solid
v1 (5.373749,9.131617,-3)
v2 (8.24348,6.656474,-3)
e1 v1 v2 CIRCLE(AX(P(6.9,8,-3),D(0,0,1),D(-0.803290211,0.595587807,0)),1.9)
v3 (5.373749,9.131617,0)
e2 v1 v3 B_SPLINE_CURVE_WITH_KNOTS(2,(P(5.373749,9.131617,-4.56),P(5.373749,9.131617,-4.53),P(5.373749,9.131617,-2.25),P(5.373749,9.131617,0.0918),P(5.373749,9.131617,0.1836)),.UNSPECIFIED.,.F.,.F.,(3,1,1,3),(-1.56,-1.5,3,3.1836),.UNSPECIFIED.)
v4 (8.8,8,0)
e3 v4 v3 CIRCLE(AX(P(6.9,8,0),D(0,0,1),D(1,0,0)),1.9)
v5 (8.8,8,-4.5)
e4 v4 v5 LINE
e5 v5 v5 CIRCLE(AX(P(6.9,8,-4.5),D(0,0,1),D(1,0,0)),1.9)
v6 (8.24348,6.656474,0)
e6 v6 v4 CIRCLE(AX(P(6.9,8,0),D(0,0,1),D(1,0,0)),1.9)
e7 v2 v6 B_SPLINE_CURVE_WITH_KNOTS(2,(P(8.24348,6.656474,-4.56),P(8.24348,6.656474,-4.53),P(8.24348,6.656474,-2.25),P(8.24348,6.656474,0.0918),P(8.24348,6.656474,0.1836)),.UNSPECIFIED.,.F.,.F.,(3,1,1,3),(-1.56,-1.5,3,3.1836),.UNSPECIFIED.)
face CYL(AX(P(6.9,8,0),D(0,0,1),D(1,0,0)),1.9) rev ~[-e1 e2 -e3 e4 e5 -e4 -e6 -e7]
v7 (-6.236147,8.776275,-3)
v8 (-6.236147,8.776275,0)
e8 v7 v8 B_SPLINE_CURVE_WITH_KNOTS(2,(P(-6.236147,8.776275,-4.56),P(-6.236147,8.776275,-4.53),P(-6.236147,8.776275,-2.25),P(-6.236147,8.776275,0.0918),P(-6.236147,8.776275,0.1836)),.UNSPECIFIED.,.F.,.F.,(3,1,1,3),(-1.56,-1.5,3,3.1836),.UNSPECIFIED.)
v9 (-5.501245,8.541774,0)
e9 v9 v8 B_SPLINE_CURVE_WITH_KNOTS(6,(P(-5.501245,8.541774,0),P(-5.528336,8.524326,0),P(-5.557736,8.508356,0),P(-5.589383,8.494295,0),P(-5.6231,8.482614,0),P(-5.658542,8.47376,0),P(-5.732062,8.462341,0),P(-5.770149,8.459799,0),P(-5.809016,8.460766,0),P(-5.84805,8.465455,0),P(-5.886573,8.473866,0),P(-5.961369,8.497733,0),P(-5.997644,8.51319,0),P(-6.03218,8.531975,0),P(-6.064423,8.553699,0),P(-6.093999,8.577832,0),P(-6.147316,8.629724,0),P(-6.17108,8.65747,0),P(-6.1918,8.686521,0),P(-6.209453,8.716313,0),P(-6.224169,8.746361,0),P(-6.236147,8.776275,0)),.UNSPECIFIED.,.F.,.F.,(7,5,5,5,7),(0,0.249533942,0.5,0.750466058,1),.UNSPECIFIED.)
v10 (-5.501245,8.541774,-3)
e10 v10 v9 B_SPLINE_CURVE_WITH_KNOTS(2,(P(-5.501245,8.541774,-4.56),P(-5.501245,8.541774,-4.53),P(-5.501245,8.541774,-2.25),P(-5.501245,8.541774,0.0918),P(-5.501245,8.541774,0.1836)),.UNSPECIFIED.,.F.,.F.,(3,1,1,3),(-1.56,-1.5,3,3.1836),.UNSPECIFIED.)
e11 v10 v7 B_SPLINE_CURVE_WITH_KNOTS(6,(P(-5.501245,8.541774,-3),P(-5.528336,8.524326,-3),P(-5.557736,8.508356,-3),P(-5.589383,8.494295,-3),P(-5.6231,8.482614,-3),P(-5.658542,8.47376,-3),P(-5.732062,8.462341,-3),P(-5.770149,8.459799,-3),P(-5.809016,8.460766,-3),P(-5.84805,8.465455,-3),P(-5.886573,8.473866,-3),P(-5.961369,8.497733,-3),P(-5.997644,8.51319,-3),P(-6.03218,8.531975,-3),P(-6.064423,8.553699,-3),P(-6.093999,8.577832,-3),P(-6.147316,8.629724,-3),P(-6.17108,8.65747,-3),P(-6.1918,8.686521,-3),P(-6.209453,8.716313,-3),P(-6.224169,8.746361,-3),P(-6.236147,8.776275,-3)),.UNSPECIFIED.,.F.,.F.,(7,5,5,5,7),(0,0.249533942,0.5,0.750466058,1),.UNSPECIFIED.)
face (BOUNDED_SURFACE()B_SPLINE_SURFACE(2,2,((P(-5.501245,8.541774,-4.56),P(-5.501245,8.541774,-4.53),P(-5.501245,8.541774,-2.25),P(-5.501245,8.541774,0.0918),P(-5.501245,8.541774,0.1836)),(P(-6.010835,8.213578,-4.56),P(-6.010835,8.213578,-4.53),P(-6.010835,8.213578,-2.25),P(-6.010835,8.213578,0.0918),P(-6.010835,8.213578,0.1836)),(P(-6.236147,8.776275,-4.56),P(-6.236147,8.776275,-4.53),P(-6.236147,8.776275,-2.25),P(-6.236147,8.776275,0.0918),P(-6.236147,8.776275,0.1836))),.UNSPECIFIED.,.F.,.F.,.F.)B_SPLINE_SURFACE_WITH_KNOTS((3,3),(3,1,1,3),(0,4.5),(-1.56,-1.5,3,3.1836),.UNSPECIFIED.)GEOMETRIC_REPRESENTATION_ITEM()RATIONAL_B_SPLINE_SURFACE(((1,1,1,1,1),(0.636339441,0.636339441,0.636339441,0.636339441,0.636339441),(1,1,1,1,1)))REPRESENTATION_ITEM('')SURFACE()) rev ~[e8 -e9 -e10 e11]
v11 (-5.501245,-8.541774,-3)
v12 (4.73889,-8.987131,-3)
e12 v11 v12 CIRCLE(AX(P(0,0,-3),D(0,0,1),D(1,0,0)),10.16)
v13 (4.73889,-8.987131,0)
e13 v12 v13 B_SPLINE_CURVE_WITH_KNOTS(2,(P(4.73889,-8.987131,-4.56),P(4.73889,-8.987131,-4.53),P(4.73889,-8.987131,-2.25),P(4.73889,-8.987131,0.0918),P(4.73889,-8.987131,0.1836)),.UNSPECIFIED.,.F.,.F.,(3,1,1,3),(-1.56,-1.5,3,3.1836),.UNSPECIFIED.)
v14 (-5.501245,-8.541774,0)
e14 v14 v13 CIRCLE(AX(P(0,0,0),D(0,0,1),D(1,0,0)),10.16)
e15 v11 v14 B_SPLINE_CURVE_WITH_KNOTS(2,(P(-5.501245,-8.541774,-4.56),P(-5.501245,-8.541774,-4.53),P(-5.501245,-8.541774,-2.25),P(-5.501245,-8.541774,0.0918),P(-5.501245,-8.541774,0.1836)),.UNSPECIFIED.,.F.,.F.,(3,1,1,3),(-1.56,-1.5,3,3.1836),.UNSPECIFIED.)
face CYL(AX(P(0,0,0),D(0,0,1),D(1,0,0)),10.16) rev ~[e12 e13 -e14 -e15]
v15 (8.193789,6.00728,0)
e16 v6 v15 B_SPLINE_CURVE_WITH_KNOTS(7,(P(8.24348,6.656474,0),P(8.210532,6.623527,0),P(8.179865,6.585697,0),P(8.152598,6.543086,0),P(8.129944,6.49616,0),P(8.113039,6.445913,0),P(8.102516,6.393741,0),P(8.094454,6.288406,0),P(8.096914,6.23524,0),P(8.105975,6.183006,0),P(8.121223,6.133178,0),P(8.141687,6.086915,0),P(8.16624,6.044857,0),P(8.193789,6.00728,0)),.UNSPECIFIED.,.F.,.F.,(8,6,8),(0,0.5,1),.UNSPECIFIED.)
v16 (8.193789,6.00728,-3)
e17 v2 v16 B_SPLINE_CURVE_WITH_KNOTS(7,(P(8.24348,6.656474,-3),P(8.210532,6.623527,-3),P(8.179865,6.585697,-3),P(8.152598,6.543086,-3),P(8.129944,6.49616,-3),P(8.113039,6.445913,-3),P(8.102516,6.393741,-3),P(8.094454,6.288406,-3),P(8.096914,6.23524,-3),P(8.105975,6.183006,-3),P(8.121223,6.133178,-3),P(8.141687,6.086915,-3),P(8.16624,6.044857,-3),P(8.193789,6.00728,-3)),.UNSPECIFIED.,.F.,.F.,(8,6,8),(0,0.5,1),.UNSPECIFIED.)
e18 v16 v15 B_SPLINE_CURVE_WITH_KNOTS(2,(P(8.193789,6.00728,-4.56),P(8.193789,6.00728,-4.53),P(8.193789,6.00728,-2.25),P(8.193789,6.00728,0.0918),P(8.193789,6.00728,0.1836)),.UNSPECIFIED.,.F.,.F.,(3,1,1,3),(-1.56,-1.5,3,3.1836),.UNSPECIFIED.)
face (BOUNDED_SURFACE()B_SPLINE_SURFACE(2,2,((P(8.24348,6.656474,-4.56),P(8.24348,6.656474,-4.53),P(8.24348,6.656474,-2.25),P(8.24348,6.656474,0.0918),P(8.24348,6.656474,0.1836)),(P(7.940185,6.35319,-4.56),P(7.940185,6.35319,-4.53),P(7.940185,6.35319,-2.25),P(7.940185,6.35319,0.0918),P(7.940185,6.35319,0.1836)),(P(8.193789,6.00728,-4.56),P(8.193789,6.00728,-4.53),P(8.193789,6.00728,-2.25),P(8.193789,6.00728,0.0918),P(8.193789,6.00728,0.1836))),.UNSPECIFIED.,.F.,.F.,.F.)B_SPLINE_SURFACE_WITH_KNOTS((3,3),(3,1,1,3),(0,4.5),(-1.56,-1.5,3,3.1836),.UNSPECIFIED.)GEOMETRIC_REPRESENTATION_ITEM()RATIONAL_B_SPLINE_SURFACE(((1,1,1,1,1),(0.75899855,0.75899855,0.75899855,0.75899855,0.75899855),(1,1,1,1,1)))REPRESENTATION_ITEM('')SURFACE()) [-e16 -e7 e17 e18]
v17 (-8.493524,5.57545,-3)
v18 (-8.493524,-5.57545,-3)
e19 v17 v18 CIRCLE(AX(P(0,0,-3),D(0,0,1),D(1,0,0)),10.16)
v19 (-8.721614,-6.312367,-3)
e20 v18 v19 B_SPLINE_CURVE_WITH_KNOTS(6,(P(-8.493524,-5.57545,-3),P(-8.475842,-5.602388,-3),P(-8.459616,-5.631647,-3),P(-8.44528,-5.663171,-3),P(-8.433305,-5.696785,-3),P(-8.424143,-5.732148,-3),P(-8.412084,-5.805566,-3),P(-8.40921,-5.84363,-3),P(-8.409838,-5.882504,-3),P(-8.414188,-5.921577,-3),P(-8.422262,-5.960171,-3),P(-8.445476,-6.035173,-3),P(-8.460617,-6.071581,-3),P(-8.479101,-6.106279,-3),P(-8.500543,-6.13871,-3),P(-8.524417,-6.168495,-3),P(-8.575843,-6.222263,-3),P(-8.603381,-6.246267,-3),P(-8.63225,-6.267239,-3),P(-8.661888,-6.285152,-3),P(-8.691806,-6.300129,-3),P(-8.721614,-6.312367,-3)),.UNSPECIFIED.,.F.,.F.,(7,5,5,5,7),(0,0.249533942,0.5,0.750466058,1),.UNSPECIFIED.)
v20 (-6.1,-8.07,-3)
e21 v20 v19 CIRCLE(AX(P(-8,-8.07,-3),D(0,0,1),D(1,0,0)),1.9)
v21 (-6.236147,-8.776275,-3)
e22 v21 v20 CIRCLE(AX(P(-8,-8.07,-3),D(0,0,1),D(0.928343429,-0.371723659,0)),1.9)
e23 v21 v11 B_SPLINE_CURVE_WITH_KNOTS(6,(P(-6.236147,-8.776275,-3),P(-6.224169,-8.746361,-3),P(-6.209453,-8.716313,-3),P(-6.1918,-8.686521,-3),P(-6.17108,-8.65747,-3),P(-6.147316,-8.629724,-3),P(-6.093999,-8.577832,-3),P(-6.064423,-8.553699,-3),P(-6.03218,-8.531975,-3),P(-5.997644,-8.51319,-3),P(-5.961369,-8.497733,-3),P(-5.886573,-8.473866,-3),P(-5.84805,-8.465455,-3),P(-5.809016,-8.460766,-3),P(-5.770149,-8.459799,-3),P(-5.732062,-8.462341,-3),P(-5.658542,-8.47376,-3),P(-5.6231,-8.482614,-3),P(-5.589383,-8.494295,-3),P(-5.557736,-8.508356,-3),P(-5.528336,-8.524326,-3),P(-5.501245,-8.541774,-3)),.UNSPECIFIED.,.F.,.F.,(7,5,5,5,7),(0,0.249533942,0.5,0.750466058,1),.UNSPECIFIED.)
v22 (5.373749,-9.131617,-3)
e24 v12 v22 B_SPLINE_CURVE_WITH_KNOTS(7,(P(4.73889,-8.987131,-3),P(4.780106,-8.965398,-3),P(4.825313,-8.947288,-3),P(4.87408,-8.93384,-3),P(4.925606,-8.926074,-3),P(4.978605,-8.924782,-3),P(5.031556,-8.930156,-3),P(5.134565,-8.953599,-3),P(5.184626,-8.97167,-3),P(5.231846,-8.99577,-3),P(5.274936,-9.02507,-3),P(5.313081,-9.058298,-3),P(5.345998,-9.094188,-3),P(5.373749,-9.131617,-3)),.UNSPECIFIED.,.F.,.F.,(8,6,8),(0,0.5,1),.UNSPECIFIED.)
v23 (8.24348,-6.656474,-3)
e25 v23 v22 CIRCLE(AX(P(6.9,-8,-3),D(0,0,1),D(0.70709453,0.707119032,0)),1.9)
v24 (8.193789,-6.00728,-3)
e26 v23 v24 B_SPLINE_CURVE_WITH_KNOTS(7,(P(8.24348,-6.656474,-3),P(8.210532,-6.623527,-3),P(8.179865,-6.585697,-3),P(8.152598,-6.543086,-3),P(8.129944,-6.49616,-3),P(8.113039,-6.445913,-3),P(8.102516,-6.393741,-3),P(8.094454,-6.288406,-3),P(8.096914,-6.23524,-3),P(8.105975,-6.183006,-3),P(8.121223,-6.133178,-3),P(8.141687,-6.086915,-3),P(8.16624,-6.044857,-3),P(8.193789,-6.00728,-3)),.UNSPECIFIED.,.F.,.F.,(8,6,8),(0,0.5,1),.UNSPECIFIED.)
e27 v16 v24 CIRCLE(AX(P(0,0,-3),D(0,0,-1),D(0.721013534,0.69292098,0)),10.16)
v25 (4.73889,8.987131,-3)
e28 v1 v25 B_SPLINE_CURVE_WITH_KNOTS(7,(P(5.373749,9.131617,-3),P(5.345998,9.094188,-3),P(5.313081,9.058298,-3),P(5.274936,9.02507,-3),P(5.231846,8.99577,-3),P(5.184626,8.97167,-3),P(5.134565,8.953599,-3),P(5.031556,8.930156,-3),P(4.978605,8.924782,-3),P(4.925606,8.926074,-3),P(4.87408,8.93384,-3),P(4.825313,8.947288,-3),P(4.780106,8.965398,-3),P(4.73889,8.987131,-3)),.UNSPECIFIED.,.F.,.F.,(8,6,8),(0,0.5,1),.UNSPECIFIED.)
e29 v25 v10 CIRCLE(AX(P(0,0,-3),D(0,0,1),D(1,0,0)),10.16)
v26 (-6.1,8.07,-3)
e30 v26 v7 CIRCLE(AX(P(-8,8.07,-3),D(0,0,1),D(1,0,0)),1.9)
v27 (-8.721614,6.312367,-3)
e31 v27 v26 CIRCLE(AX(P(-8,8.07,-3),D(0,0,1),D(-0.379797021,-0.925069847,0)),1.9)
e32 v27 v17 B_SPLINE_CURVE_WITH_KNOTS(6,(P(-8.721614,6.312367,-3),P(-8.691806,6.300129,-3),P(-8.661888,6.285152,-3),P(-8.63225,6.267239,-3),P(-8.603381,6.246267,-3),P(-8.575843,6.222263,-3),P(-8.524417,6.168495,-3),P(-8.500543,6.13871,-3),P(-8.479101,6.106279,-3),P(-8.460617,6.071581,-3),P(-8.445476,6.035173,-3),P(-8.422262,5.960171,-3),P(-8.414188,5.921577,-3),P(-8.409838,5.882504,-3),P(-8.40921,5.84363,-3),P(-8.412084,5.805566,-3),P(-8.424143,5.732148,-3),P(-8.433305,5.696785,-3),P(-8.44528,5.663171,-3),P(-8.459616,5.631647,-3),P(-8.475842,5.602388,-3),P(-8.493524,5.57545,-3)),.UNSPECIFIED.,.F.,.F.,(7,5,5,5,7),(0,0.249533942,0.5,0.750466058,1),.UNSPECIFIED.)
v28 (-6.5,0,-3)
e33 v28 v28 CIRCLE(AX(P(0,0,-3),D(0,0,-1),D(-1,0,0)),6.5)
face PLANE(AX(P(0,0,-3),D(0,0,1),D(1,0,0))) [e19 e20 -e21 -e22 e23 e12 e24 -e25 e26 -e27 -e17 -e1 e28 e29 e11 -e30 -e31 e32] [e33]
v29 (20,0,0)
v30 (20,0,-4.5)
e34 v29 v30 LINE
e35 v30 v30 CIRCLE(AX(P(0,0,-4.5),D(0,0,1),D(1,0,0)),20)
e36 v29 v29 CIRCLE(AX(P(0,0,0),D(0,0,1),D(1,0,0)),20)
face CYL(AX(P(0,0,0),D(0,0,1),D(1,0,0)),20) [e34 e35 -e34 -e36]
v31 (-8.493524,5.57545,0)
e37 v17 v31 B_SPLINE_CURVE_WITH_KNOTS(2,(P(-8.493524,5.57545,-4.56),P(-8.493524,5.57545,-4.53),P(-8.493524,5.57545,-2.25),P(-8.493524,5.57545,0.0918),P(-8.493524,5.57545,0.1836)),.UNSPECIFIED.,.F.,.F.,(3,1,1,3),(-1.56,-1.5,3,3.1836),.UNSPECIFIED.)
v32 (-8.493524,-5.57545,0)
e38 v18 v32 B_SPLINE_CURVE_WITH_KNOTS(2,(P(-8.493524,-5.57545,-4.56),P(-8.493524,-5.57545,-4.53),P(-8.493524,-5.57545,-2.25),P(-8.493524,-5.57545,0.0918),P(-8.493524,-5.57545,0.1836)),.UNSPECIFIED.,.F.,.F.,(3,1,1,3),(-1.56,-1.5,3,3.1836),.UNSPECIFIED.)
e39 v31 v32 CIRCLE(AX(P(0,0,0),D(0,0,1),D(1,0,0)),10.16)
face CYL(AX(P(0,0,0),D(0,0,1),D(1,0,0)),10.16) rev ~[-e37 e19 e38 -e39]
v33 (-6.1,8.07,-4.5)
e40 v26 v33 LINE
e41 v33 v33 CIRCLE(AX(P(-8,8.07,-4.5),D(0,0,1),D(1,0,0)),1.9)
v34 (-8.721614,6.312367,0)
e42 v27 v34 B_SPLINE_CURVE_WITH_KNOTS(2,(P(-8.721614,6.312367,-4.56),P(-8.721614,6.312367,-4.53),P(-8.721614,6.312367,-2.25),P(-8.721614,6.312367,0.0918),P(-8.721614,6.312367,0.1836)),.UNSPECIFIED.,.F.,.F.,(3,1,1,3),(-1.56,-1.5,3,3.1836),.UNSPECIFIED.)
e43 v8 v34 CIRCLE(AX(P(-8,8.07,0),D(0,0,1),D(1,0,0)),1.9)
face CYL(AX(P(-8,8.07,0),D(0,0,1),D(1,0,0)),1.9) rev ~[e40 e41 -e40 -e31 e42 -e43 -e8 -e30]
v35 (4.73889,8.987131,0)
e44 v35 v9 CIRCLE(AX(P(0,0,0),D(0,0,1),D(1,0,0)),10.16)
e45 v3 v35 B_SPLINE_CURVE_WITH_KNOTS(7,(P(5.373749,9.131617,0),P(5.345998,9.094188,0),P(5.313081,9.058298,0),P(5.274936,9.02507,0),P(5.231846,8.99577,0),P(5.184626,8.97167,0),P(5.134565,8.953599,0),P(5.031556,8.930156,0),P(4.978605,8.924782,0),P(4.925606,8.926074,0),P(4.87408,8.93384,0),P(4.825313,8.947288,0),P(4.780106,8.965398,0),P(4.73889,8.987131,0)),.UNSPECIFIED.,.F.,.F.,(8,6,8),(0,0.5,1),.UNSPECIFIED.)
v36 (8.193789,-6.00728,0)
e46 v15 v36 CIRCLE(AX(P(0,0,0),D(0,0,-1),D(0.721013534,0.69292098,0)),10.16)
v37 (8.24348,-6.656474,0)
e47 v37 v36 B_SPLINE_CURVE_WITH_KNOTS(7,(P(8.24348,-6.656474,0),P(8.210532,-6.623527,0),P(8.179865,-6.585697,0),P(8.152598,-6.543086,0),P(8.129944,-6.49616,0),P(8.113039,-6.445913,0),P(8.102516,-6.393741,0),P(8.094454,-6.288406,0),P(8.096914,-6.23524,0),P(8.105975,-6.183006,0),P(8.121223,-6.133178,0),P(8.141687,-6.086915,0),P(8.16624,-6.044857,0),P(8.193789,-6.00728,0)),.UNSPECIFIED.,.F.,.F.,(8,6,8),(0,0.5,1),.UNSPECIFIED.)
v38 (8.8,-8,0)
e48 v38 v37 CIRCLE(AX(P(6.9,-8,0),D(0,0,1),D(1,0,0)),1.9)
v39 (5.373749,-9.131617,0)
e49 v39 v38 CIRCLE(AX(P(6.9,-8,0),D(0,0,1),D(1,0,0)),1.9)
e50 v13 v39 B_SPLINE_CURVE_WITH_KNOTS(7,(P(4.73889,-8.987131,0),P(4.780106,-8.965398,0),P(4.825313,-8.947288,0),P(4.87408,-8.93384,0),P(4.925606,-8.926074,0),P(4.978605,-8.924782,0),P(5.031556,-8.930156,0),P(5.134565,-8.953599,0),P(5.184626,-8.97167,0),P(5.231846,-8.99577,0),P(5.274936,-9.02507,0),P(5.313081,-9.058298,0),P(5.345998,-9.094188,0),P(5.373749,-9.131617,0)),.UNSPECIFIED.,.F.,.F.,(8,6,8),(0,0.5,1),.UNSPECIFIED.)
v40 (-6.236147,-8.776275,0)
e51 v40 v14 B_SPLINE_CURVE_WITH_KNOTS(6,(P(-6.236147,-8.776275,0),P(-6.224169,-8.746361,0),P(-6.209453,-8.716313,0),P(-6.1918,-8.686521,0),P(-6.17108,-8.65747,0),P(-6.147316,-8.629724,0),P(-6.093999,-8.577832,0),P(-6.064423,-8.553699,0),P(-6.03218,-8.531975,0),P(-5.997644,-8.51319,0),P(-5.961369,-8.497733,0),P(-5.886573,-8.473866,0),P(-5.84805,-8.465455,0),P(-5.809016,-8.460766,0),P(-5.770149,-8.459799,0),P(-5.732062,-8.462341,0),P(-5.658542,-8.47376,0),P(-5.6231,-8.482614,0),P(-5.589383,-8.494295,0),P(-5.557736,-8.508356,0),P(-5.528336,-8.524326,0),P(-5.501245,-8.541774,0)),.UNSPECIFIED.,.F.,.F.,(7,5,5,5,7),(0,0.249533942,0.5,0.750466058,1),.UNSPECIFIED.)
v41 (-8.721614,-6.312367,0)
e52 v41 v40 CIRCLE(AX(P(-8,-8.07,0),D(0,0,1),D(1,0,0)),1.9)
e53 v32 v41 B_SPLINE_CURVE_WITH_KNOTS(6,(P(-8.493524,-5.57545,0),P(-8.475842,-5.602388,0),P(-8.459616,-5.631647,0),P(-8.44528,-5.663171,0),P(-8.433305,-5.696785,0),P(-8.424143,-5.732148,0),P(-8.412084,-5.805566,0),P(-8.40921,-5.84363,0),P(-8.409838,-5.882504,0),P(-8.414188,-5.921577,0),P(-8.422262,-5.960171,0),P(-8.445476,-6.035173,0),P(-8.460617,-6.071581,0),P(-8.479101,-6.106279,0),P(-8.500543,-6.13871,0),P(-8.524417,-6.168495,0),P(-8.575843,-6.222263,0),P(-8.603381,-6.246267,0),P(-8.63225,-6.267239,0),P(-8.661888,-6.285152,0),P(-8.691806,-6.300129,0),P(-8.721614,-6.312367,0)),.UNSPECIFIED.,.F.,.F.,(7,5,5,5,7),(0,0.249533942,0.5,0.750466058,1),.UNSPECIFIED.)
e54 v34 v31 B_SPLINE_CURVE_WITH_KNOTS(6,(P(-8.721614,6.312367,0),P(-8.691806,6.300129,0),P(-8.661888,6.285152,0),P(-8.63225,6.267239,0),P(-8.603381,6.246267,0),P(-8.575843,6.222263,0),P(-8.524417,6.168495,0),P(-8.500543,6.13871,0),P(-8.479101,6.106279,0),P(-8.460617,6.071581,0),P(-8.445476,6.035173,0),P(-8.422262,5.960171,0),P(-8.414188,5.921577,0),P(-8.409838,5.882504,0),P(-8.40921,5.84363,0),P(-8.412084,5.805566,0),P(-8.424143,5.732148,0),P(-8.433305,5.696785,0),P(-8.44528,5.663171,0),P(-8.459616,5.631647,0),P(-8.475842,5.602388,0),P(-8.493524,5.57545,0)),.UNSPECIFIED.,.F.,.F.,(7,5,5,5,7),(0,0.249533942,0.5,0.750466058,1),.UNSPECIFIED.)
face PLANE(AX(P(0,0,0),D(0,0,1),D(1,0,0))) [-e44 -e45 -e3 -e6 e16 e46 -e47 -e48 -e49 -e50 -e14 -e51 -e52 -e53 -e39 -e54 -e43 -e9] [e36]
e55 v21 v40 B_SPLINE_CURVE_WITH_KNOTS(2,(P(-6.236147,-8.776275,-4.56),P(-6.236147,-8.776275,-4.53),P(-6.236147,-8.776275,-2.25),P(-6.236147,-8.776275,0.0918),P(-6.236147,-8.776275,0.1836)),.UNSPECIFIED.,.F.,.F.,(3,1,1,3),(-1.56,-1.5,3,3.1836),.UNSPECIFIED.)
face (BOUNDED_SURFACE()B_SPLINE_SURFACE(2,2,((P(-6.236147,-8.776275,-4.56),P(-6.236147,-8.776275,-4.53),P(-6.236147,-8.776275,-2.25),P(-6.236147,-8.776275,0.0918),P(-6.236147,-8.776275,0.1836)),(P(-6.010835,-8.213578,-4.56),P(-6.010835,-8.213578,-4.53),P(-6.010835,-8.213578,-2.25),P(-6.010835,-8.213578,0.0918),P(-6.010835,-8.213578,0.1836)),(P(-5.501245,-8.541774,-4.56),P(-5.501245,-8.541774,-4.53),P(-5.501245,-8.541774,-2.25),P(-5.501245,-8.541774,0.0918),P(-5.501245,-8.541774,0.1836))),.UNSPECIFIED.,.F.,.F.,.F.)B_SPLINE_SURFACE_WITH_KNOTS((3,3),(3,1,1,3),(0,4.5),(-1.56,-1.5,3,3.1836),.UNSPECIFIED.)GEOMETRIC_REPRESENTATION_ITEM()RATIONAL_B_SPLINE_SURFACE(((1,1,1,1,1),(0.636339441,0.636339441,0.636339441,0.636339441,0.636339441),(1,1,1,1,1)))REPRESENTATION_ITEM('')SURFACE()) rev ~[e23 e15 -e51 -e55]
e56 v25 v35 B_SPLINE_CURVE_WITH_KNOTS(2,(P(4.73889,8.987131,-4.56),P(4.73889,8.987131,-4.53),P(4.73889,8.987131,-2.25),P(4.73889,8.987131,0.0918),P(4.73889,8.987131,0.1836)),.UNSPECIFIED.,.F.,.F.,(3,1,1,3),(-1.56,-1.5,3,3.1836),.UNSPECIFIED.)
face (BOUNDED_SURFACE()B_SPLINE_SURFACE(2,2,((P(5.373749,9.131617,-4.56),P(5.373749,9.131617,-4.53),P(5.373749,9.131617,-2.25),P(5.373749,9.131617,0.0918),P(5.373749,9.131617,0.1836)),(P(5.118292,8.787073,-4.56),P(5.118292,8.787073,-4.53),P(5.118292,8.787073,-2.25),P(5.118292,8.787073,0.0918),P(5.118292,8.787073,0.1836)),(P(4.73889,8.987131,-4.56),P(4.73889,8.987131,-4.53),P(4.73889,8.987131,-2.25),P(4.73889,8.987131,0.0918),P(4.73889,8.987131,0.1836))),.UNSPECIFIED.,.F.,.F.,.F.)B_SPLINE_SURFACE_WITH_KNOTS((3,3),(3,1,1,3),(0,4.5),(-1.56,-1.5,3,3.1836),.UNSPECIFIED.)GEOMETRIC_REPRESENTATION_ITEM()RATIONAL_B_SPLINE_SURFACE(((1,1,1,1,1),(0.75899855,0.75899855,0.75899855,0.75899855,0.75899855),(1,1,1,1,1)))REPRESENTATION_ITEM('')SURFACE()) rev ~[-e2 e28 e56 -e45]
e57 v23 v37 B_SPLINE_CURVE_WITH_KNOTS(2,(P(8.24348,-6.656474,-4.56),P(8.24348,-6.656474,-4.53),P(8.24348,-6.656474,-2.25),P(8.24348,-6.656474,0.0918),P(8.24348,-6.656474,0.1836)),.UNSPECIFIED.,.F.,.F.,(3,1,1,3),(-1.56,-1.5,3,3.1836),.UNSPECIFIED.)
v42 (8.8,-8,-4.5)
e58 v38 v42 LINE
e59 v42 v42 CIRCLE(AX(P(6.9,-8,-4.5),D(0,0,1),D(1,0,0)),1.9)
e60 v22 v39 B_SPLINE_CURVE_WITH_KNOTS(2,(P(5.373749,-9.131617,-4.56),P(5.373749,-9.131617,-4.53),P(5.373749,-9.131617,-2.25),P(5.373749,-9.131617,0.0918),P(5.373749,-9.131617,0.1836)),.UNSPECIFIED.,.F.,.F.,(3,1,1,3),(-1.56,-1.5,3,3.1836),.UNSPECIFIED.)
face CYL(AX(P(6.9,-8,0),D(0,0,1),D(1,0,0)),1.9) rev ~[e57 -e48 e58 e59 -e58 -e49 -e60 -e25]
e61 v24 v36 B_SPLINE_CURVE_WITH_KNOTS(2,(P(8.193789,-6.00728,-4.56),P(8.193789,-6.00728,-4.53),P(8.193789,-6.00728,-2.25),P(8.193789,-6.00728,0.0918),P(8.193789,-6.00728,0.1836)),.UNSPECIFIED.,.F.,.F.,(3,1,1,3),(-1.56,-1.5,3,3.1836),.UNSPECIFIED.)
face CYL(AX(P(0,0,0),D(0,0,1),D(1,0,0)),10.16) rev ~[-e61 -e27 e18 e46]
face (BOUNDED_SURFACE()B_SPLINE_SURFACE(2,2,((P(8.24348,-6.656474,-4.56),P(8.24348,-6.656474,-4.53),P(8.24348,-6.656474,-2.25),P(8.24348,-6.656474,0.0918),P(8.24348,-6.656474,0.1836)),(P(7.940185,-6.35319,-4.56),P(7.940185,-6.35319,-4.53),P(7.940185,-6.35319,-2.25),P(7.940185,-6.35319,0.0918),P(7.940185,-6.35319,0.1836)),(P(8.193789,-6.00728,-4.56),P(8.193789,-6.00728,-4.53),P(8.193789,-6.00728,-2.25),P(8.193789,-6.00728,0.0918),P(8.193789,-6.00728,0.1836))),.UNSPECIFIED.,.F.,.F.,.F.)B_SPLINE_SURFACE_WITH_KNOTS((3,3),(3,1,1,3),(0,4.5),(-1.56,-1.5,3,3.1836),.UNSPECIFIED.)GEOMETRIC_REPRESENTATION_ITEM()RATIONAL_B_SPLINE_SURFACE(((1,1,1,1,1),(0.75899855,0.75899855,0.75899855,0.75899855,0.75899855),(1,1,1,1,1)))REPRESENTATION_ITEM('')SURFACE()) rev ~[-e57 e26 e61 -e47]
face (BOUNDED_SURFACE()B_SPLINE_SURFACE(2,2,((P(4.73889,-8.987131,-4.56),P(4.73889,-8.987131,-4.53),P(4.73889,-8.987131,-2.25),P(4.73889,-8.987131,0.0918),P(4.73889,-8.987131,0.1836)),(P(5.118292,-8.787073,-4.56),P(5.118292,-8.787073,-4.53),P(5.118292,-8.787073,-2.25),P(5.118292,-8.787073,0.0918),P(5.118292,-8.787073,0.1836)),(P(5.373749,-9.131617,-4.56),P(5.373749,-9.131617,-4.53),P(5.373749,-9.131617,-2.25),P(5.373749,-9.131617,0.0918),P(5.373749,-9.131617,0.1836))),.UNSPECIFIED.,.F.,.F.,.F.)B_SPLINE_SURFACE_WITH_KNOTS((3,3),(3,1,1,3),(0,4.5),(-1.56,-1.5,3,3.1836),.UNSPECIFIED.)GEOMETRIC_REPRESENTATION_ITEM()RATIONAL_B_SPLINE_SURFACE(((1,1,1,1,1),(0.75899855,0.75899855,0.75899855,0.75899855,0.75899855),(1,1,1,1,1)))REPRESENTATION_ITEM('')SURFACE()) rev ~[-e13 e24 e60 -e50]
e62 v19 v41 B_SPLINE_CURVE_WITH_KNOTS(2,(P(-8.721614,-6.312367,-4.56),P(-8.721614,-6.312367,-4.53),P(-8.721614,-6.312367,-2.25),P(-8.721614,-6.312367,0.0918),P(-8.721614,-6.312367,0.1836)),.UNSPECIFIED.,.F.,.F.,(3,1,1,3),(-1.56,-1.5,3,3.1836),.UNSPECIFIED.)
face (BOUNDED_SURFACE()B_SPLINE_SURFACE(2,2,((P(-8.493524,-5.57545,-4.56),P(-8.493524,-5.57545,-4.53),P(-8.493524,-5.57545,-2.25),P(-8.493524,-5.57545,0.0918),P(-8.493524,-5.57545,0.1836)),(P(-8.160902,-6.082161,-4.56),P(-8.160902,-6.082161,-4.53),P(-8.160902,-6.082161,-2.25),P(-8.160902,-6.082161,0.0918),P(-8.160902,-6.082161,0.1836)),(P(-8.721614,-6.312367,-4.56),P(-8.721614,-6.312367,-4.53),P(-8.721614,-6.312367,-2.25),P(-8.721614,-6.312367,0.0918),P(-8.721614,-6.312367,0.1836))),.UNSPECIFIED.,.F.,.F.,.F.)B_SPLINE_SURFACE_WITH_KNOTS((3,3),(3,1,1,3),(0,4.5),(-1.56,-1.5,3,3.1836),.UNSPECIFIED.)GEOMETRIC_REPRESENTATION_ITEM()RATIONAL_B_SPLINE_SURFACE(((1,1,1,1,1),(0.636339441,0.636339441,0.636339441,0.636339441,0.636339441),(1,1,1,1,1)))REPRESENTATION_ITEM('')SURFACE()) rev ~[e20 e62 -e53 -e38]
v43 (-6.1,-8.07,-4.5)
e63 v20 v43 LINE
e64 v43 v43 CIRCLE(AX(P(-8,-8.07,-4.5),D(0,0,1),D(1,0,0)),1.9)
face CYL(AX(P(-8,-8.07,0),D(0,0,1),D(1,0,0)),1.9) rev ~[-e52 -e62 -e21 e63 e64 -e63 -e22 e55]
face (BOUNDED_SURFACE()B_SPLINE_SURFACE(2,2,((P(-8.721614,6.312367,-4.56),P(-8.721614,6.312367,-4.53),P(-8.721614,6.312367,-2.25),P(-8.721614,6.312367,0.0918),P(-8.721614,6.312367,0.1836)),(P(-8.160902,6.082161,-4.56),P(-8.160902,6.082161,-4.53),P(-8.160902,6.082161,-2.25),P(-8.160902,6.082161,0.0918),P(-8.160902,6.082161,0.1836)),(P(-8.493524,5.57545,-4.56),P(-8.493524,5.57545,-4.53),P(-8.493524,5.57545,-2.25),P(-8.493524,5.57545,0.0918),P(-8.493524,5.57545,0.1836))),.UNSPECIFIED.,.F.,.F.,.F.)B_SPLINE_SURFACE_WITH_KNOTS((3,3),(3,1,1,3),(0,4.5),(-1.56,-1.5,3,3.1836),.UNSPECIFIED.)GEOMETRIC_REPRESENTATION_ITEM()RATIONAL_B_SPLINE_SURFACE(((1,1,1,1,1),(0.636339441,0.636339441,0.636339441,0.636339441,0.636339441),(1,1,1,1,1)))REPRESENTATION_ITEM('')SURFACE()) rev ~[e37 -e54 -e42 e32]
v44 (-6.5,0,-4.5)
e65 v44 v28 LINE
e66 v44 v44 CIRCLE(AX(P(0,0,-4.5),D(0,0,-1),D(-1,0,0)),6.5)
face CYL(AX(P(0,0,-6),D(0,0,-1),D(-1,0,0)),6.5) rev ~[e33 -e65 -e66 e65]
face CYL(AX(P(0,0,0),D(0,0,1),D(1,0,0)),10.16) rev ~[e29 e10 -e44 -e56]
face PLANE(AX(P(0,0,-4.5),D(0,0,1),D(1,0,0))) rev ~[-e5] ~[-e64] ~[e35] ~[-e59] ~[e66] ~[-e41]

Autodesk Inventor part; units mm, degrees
ref_plane "YZ Plane" through (0, 0, 0) normal (1, 0, 0) x (0, 1, 0)
ref_plane "XZ Plane" through (0, 0, 0) normal (0, 1, 0) x (-1, 0, 0)
ref_plane "XY Plane" through (0, 0, 0) normal (0, 0, 1) x (1, 0, 0)
sketch "Sketch8" plane through (0, 0, 0) normal (0, 0, 1) x (1, 0, 0)
  circle A0 centre (0, 0) radius 15
  dimension "d33" = 30
extrude "Extrusion7" add sketch "Sketch8" against normal blind 8
sketch "Sketch10" plane through (0, 0, -8) normal (0, 0, -1) x (-1, 0, 0)
  line L0 (9, 10.07) -> (-29.1, 10.07)
  arc A0 (10, 9.07) -> (9, 10.07) centre (9, 9.07) ccw
  line L1 (10, 9.07) -> (10, -9.07)
  arc A1 (9, -10.07) -> (10, -9.07) centre (9, -9.07) ccw
  line L2 (-29.1, -10.07) -> (9, -10.07)
  line L3 (-29.1, 10.07) -> (-29.1, -10.07)
  line L4 (10.4, -9.07) -> (10.4, 9.07)
  arc A2 (10.4, 9.07) -> (9, 10.47) centre (9, 9.07) ccw
  line L5 (9, 10.47) -> (-29.5, 10.47)
  line L6 (-29.5, 10.47) -> (-29.5, -10.47)
  line L7 (-29.5, -10.47) -> (9, -10.47)
  arc A3 (9, -10.47) -> (10.4, -9.07) centre (9, -9.07) ccw
  dimension "d59" = 0.4
extrude "Extrusion8" cut sketch "Sketch10" against normal blind 2 contours A0 L1 A1 L2 L3 L0 | A3 L7 L6 L5 A2 L4
sketch "Sketch11" plane through (0, 0, -6) normal (0, 0, -1) x (-1, 0, 0)
  circle A0 centre (0, 0) radius 6.4
  circle A1 centre (0, 0) radius 6.5
  point P0 (0, 0)
  dimension "d58" = 13
extrude "Extrusion9" cut sketch "Sketch11" against normal through all contours A0 | A1
sketch "Sketch13" plane through (0, 0, 0) normal (0, 0, 1) x (1, 0, 0)
  circle A0 centre (0, 0) radius 9.96
  circle A1 centre (0, 0) radius 10.16
  point P0 (0, 0)
  dimension "d44" = 0.2
extrude "Extrusion11" cut sketch "Sketch13" against normal blind 3 contours A0 | A1
sketch "Sketch14" plane through (0, 0, 0) normal (0, 0, 1) x (1, 0, 0)
  circle A0 centre (6.9, 8) radius 0.7835
  circle A1 centre (6.9, -8) radius 0.7835
  circle A2 centre (-8, 8.07) radius 1
  circle A3 centre (-8, -8.07) radius 1
  point P0 (0, 0)
hole "Hole2" at (6.9, 8, 0) at (-8, 8.07, 0) at (-8, -8.07, 0) at (6.9, -8, 0) direction (0, 0, -1) diameter 2.1 end through all
sketch "Sketch15" plane through (0, 0, 0) normal (0, 0, 1) x (1, 0, 0)
  arc A0 (7.3255, 7.0401) -> (5.888, 8.2799) centre (6.9, 8) ccw projected
  arc A1 (5.888, -8.2799) -> (7.3255, -7.0401) centre (6.9, -8) ccw projected
  circle A2 centre (-8, 8.07) radius 1.05 projected
  circle A3 centre (-8, -8.07) radius 1.05 projected
  circle A4 centre (6.9, 8) radius 1.9
  circle A5 centre (6.9, -8) radius 1.9
  circle A6 centre (-8, -8.07) radius 1.9
  circle A7 centre (-8, 8.07) radius 1.9
  point P0 (0, 0)
  dimension "d54" = 3.8
extrude "Extrusion12" cut sketch "Sketch15" against normal blind 4.5 contours A2 | A3 | A4 | A5 | A6 | A7
fillet "Fillet2" radius 0.5 8 edges at (5.1562, 8.7544, -1.5) (7.9023, 6.3859, -1.5) (-6.1008, 8.1244, -1.5) (-8.071, 6.1713, -1.5) (-8.071, -6.1713, -1.5) (-6.1008, -8.1244, -1.5) (5.1562, -8.7544, -1.5) (7.9023, -6.3859, -1.5)
sketch "Sketch16" plane through (0, 0, -8) normal (0, 0, -1) x (-1, 0, 0)
  circle A0 centre (-6.9, -8) radius 1.05 projected
  circle A1 centre (8, -8.07) radius 1.05 projected
  circle A2 centre (8, 8.07) radius 1.05 projected
  circle A3 centre (-6.9, 8) radius 1.05 projected
  circle A4 centre (0, 0) radius 6.5 projected
  arc A5 (-10.7415, 10.47) -> (-10.7415, -10.47) centre (0, 0) ccw projected
  line L0 (9, -10.47) -> (-10.7415, -10.47) projected
  arc A6 (9, -10.47) -> (10.4, -9.07) centre (9, -9.07) ccw projected
  line L1 (10.4, 9.07) -> (10.4, -9.07) projected
  arc A7 (10.4, 9.07) -> (9, 10.47) centre (9, 9.07) ccw projected
  line L2 (-10.7415, 10.47) -> (9, 10.47) projected
  line L3 (-10.7415, 10.47) -> (9, 10.47) projected
  arc A8 (10.4, 9.07) -> (9, 10.47) centre (9, 9.07) ccw projected
  line L4 (10.4, 9.07) -> (10.4, -9.07) projected
  arc A9 (9, -10.47) -> (10.4, -9.07) centre (9, -9.07) ccw projected
  line L5 (9, -10.47) -> (-10.7415, -10.47) projected
  arc A10 (-10.7415, -10.47) -> (-10.7415, 10.47) centre (0, 0) ccw projected
extrude "Extrusion14" cut sketch "Sketch16" against normal blind 3.5
sketch "Sketch19" plane through (0, 0, 0) normal (0, 0, 1) x (1, 0, 0)
  circle A0 centre (0, 0) radius 15
  circle A1 centre (0, 0) radius 20
  dimension "d67" = 30
  dimension "d68" = 40
extrude "Extrusion16" add sketch "Sketch19" against normal blind 4.5
properties part number "frame_motor_support" material "Aluminum 6061-AHC"
